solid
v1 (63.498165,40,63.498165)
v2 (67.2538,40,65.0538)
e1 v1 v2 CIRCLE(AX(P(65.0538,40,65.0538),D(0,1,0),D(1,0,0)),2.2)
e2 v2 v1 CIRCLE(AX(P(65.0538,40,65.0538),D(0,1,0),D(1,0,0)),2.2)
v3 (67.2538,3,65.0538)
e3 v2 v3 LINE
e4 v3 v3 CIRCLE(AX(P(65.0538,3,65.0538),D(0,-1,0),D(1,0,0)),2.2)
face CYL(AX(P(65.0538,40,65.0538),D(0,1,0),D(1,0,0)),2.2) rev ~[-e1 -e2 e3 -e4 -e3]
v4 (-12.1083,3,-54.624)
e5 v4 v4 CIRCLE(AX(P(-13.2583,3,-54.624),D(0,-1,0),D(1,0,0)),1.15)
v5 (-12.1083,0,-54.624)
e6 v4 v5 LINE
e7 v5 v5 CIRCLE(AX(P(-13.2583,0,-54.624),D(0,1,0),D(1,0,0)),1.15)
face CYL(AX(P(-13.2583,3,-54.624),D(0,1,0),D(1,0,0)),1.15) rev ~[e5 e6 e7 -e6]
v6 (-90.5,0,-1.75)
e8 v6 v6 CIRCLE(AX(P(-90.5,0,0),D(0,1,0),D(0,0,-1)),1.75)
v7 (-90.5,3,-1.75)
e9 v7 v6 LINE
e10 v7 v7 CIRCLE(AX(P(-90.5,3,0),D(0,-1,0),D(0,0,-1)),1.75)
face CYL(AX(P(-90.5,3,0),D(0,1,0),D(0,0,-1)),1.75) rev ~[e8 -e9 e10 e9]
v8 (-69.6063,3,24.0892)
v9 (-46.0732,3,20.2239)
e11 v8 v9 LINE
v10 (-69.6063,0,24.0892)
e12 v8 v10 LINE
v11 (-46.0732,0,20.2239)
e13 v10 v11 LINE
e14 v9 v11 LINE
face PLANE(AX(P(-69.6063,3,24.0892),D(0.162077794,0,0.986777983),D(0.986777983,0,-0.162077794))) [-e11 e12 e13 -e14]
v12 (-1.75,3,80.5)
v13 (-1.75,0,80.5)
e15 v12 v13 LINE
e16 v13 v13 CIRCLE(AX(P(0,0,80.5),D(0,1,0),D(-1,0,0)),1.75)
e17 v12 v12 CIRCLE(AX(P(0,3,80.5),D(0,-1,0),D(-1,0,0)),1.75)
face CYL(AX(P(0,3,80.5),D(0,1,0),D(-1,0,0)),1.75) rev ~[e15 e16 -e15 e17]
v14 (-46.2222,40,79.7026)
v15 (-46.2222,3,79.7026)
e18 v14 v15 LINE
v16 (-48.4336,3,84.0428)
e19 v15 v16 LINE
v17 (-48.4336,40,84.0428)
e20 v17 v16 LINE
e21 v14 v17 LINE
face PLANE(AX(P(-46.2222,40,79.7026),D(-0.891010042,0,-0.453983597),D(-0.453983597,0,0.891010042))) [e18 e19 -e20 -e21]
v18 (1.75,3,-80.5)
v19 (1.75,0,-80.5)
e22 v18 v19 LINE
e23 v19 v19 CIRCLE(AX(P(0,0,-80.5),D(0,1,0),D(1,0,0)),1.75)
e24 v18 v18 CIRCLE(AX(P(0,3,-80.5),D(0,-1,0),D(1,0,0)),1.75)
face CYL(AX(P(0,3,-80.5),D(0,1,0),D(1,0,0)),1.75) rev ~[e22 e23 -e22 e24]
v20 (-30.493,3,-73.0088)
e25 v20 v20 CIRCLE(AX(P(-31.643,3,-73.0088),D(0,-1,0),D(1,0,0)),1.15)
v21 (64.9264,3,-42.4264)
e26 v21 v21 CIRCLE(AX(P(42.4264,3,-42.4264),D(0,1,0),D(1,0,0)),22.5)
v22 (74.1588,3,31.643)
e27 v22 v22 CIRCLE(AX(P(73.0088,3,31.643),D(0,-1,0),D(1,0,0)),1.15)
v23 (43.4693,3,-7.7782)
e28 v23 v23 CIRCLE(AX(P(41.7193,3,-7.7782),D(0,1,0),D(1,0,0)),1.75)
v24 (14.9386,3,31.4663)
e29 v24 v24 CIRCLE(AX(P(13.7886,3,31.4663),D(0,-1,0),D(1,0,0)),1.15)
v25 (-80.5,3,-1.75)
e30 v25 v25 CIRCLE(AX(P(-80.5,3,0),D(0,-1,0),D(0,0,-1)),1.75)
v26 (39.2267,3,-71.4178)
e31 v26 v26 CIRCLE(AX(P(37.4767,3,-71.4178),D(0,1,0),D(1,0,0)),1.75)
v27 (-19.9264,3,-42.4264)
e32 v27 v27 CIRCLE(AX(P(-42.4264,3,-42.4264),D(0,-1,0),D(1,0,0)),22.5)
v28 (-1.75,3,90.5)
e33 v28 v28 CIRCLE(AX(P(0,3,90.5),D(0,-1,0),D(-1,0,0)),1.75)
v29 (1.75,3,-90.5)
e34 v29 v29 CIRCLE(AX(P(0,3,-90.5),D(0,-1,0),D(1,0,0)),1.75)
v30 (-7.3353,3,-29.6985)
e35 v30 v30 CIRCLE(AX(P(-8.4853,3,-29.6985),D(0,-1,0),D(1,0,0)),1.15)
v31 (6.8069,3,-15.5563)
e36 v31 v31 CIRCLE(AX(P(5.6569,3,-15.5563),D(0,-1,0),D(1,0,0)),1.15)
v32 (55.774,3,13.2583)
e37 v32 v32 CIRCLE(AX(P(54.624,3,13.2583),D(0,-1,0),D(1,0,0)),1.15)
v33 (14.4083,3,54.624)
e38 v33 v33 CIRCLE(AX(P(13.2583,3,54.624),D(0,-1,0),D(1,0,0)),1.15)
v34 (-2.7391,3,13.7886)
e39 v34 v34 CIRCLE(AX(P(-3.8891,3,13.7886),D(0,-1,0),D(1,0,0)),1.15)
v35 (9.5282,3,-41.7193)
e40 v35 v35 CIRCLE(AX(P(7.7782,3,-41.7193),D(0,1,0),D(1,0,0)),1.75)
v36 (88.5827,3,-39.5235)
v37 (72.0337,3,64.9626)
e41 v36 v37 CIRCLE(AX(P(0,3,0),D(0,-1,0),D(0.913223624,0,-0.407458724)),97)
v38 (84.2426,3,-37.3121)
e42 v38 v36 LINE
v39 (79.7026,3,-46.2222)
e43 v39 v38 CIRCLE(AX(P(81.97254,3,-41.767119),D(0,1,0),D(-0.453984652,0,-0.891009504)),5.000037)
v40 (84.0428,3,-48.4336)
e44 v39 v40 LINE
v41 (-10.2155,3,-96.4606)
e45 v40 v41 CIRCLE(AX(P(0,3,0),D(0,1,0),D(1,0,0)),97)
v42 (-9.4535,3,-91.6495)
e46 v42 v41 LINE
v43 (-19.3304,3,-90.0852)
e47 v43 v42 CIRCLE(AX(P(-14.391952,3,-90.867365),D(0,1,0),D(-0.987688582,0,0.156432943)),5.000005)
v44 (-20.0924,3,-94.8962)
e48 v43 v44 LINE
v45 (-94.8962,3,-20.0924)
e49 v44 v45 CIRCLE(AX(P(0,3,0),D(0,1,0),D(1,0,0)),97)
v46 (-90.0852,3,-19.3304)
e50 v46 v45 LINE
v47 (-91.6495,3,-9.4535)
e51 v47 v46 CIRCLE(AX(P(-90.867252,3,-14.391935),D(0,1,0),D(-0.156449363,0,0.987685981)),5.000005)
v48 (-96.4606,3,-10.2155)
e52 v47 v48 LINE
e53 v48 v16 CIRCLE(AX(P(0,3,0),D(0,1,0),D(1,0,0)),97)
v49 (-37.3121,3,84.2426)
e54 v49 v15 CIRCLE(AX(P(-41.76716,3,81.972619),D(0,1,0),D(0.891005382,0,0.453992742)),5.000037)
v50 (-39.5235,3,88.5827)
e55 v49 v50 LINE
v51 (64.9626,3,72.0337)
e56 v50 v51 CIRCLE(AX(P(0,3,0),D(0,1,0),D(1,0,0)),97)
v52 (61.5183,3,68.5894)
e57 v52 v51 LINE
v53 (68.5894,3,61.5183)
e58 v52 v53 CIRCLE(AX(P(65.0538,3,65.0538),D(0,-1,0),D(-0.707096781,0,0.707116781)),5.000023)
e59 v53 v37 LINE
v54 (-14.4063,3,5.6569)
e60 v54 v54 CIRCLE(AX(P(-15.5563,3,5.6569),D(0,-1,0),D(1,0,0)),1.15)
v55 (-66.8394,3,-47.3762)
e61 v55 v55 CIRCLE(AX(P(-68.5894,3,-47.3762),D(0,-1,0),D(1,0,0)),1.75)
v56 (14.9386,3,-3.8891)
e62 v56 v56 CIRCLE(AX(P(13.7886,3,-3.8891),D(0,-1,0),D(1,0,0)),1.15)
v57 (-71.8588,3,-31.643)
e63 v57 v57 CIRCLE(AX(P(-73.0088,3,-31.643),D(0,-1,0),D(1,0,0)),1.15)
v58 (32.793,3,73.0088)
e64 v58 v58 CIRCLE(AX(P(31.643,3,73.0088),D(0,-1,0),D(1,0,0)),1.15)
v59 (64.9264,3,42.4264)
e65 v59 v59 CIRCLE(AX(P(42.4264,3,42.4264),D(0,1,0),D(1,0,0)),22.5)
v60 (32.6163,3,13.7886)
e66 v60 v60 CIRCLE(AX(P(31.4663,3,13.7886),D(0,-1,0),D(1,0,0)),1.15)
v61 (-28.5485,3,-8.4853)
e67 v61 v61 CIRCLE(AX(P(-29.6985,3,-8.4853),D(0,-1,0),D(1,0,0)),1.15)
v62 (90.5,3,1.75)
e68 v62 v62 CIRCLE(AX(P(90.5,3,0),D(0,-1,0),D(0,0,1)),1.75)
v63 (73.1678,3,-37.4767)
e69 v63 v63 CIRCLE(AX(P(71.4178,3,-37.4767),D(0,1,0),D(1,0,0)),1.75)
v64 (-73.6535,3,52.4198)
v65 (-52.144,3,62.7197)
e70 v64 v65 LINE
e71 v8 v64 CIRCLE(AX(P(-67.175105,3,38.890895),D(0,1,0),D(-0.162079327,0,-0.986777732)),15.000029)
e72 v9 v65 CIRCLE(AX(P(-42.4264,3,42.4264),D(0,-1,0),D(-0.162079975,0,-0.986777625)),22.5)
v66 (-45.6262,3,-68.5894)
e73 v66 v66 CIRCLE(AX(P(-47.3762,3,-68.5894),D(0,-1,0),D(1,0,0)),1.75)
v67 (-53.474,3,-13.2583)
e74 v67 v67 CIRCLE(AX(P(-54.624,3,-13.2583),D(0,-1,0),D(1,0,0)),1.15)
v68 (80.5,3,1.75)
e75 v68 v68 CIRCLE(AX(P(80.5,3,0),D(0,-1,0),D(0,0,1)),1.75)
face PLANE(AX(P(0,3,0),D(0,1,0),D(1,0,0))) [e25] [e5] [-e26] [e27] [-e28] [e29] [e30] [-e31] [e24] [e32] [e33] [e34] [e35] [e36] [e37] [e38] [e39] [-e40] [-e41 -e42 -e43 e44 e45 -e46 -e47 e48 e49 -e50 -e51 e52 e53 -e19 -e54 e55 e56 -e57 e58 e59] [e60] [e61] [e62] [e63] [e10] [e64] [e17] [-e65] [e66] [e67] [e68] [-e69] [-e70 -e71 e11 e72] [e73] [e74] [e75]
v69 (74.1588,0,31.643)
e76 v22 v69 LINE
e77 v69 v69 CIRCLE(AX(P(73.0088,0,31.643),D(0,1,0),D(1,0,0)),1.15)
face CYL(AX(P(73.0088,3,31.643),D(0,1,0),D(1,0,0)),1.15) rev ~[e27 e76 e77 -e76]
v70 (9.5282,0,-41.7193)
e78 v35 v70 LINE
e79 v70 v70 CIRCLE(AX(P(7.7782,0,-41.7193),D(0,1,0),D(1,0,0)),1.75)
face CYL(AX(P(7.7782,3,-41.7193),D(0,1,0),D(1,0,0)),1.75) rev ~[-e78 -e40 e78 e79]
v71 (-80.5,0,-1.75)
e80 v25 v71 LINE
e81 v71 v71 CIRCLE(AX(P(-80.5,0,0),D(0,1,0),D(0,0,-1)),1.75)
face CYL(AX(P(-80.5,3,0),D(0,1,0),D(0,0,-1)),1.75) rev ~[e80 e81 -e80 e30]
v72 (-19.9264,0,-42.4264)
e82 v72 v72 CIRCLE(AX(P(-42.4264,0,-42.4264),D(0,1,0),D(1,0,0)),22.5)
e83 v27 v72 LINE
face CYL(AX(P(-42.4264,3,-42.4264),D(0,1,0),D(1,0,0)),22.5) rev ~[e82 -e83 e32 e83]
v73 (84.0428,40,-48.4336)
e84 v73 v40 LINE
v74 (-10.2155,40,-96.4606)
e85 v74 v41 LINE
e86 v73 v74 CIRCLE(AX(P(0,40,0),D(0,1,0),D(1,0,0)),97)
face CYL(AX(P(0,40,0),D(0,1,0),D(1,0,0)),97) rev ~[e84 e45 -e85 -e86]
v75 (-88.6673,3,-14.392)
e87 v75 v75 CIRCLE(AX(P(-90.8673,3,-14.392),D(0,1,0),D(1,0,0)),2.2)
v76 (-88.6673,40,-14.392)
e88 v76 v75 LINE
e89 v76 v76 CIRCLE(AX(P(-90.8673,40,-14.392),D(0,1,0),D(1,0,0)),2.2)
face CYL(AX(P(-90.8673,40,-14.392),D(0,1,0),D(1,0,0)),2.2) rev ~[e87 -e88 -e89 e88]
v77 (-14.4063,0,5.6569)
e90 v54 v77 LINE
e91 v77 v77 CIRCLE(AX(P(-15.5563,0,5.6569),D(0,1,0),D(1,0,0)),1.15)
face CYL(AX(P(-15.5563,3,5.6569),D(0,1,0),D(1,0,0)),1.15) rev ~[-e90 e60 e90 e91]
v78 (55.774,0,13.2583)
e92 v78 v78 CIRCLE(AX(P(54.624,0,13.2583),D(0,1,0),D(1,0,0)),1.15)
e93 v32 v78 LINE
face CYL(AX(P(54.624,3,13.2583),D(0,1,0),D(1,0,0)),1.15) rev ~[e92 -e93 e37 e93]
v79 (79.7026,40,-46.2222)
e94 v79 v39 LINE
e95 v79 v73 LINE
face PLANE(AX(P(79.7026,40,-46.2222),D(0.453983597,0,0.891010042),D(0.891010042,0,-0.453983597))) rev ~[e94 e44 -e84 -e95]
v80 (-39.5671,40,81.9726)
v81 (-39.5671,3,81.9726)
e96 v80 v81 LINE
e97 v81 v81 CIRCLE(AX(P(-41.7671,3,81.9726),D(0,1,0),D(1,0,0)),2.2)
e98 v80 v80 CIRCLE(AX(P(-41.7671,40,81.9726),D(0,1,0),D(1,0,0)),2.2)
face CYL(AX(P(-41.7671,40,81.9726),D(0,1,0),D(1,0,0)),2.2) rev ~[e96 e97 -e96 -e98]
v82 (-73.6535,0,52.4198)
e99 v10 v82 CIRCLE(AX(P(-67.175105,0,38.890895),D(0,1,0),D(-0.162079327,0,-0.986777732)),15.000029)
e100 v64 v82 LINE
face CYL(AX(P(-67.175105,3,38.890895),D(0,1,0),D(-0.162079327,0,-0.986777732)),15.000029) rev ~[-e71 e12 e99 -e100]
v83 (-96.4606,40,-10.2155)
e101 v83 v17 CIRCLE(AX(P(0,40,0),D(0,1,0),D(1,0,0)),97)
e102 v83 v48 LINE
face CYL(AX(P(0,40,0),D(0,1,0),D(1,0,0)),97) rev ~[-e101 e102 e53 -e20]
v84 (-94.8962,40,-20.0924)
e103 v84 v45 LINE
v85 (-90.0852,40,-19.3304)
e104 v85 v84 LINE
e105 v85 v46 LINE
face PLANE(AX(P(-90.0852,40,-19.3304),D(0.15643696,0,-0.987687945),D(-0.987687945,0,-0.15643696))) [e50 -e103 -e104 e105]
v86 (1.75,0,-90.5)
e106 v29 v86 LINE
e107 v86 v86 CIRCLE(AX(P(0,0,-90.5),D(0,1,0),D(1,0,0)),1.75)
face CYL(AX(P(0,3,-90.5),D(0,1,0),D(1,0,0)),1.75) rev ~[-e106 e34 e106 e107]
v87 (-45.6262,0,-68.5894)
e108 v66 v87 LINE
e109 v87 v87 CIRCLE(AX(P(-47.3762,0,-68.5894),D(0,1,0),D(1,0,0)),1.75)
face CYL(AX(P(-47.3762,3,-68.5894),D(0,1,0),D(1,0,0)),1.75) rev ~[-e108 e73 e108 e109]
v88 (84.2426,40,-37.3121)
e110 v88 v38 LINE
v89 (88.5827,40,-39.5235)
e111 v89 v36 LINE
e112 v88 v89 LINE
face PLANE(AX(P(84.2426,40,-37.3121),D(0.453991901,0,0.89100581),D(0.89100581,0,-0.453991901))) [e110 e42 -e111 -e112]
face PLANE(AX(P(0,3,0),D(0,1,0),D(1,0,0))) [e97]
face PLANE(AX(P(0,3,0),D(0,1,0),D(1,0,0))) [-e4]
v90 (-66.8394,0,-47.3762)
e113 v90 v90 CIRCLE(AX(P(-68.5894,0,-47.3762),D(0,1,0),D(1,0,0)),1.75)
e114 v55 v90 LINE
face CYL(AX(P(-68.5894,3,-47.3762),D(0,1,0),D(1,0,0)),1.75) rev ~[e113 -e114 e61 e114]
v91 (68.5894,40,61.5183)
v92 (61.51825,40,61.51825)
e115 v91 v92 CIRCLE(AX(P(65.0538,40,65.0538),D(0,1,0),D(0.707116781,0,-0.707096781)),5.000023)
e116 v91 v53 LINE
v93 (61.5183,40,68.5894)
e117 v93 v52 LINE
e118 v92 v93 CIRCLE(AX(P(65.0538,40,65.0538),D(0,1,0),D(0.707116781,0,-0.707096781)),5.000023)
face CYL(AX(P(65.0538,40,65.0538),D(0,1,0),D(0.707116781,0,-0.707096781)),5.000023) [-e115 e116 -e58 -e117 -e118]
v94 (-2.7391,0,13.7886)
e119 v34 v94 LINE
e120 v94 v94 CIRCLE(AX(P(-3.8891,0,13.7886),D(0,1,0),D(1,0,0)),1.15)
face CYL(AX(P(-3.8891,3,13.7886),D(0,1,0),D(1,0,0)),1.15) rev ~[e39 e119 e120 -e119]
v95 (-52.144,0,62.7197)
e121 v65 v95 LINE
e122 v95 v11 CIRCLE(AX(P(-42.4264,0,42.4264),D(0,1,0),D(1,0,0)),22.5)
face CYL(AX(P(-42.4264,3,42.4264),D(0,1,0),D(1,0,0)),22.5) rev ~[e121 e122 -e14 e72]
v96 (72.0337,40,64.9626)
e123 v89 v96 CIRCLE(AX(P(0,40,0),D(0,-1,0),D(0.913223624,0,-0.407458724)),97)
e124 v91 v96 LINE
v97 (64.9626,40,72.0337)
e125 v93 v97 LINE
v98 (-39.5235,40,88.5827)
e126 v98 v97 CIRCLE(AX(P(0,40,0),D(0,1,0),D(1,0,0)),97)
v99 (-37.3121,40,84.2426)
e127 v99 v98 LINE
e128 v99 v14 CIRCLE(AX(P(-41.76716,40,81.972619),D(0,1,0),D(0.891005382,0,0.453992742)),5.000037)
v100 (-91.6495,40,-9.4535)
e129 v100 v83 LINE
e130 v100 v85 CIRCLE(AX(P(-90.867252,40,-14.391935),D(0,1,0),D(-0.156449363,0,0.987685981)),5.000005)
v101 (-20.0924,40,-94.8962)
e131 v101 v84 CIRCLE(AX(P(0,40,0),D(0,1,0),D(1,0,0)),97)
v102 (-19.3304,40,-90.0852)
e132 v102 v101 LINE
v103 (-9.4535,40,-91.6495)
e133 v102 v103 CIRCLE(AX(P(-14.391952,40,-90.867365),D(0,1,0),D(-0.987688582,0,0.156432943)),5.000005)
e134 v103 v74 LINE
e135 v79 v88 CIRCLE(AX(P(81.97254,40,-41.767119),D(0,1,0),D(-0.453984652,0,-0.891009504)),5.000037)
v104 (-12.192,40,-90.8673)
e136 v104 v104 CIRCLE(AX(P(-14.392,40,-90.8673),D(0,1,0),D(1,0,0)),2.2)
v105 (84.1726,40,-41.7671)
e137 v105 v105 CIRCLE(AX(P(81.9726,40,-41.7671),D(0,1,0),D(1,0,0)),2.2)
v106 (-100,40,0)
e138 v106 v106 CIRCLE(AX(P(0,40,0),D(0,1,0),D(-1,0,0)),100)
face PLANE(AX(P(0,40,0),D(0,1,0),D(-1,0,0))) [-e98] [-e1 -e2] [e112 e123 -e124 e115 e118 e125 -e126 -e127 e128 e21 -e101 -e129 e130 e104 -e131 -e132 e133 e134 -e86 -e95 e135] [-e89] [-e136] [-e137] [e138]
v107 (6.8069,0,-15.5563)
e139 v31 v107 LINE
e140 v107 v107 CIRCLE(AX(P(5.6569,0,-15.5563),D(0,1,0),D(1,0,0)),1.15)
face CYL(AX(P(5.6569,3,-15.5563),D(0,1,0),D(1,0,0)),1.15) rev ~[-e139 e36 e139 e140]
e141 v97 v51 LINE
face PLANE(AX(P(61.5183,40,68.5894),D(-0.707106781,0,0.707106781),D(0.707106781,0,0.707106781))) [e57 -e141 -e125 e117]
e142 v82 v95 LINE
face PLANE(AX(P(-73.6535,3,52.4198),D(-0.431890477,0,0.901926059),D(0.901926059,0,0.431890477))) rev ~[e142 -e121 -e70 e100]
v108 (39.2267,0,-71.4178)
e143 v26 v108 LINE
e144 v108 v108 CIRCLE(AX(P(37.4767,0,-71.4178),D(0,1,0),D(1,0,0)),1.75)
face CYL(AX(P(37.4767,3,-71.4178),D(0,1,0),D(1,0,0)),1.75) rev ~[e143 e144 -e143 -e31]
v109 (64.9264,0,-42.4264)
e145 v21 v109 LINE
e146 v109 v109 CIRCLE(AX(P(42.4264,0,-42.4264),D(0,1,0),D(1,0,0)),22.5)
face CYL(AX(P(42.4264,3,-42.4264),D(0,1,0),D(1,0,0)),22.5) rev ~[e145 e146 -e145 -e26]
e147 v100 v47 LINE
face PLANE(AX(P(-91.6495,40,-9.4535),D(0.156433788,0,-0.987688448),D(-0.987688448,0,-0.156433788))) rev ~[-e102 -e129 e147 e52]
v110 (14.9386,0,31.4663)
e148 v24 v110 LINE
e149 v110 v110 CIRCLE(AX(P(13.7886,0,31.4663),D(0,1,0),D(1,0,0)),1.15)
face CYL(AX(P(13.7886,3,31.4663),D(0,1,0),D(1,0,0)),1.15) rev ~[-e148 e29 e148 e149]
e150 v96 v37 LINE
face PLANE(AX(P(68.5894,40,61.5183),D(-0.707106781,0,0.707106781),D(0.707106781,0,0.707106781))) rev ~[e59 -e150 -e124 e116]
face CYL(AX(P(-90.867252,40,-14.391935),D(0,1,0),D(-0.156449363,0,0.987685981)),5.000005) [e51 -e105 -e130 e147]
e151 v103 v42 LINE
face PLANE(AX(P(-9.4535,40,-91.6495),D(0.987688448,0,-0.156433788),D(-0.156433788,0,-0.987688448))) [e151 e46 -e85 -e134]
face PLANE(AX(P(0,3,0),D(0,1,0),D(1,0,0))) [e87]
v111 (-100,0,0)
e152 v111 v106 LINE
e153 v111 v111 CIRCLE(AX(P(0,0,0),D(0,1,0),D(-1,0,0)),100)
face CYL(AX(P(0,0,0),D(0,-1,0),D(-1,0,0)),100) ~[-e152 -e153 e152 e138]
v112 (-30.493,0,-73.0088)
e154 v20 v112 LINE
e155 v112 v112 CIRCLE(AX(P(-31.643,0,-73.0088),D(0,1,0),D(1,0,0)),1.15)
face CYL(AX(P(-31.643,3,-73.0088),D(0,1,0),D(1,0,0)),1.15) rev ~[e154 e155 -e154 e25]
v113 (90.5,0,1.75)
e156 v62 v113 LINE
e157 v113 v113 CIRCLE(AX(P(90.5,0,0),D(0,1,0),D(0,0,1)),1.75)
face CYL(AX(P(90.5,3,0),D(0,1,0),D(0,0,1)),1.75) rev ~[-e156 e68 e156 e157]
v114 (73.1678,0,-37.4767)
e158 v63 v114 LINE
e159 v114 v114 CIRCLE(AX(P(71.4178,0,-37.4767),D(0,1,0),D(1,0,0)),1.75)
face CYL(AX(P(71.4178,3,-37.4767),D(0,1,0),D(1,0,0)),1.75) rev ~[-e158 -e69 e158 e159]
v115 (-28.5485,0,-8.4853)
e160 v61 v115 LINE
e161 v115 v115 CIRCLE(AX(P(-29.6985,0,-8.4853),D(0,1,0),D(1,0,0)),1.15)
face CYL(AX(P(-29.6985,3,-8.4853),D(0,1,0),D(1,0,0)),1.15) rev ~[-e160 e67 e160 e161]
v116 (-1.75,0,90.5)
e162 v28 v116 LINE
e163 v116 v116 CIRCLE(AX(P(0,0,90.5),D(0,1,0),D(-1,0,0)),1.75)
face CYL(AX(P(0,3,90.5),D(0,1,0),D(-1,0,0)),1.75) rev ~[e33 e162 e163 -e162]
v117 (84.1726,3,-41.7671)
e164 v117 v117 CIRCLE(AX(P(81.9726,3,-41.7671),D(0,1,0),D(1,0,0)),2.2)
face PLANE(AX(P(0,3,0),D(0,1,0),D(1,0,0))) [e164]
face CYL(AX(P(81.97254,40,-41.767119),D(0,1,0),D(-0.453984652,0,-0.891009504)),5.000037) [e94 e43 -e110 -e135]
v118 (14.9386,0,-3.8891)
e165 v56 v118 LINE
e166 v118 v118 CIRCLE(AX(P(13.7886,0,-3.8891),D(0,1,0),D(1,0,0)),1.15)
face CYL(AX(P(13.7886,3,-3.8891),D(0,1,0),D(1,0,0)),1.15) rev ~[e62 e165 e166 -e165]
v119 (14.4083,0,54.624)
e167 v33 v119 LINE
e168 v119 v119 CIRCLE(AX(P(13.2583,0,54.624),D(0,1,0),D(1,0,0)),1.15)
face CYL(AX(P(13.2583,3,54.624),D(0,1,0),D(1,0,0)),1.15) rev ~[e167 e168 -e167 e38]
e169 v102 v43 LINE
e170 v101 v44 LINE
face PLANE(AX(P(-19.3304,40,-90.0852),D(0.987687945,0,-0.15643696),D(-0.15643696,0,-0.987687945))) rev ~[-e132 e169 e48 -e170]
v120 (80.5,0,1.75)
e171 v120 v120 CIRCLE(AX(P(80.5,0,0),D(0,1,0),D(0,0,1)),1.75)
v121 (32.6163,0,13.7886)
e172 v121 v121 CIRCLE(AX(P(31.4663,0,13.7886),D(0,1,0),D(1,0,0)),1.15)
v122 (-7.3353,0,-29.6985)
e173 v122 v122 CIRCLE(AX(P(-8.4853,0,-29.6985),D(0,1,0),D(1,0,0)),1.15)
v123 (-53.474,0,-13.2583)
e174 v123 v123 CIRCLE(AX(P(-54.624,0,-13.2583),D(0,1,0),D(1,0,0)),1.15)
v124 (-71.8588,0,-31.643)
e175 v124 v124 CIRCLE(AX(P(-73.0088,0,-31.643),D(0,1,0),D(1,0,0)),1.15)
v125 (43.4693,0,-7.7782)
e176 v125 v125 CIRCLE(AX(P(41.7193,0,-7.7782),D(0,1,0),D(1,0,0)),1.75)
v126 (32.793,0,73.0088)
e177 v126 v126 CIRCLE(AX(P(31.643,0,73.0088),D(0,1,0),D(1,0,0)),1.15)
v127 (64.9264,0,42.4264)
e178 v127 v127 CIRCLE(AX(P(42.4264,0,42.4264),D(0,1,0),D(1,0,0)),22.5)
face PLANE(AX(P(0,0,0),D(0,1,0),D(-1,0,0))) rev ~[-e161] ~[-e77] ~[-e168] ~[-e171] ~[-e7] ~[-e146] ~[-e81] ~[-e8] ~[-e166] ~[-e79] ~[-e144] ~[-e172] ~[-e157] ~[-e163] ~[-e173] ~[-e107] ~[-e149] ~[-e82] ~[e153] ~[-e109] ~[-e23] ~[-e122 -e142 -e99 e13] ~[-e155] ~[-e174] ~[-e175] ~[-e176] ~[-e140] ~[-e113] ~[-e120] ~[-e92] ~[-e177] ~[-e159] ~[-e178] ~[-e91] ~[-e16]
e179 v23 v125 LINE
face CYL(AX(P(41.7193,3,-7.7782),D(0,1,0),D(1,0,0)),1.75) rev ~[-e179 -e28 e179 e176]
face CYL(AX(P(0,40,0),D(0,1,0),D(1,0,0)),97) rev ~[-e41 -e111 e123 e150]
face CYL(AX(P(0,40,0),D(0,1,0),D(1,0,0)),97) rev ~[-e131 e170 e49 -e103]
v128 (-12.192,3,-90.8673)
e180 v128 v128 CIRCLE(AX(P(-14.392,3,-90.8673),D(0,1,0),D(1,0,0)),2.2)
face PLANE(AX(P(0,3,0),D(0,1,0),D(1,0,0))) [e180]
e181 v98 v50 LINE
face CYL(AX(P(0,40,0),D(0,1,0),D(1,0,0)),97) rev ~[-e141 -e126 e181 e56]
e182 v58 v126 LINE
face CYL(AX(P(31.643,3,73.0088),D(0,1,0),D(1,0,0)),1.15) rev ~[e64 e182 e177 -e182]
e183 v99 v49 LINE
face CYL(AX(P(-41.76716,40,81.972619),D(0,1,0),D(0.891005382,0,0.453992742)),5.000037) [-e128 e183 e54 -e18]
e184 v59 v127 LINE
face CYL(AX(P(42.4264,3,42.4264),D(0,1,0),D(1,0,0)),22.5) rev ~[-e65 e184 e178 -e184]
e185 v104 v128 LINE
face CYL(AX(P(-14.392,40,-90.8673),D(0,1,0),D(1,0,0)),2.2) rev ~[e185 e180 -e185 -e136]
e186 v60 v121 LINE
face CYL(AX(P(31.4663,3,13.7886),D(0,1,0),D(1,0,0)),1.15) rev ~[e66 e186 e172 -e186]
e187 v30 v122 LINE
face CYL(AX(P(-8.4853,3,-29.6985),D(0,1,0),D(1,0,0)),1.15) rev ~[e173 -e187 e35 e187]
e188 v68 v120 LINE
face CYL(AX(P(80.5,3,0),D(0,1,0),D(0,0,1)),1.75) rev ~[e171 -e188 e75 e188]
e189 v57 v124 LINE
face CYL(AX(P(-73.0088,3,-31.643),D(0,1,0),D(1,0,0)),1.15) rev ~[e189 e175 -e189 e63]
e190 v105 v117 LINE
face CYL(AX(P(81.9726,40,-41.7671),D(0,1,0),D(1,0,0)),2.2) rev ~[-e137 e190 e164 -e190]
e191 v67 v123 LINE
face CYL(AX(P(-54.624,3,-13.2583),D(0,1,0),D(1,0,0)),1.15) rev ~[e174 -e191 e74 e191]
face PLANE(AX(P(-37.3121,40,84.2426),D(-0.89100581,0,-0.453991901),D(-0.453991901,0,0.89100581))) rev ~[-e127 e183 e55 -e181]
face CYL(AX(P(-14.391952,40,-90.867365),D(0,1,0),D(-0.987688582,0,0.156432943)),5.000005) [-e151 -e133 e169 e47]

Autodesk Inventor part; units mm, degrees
ref_plane "YZ Plane" through (0, 0, 0) normal (1, 0, 0) x (0, 1, 0)
ref_plane "XZ Plane" through (0, 0, 0) normal (0, 1, 0) x (-1, 0, 0)
ref_plane "XY Plane" through (0, 0, 0) normal (0, 0, 1) x (1, 0, 0)
sketch "Sketch1" plane through (0, 0, 0) normal (0, 1, 0) x (-1, 0, 0)
  circle A0 centre (0, 0) radius 100
  dimension "d0" = 200
extrude "Extrusion1" add sketch "Sketch1" along normal blind 40
sketch "Sketch3" plane through (0, 40, 0) normal (0, 1, 0) x (1, 0, 0)
  circle A0 centre (0, 0) radius 97
  circle A1 centre (0, 0) radius 100 projected
  dimension "d14" = 3
extrude "Extrusion3" cut sketch "Sketch3" against normal blind 37 contours A0
sketch "Sketch6" plane through (0, 40, 0) normal (0, 1, 0) x (1, 0, 0)
  circle A0 centre (65.0538, -65.0538) radius 2.2
  line L0 (0, 0) -> (65.0538, -65.0538)
  line L1 (0, 0) -> (0, 29.3697)
  arc A1 (68.5894, -61.5183) -> (61.5183, -68.5894) centre (65.0538, -65.0538) ccw
  line L2 (61.5183, -68.5894) -> (64.9626, -72.0337)
  line L3 (68.5894, -61.5183) -> (72.0337, -64.9626)
  arc A2 (79.7026, 46.2222) -> (84.2426, 37.3121) centre (81.9726, 41.7671) ccw
  circle A3 centre (81.9726, 41.7671) radius 2.2
  line L4 (84.2426, 37.3121) -> (88.5827, 39.5235)
  line L5 (79.7026, 46.2222) -> (84.0428, 48.4336)
  arc A4 (-19.3304, 90.0852) -> (-9.4535, 91.6495) centre (-14.392, 90.8673) ccw
  circle A5 centre (-14.392, 90.8673) radius 2.2
  line L6 (-9.4535, 91.6495) -> (-10.2155, 96.4606)
  line L7 (-19.3304, 90.0852) -> (-20.0924, 94.8962)
  arc A6 (-91.6495, 9.4535) -> (-90.0852, 19.3304) centre (-90.8673, 14.392) ccw
  circle A7 centre (-90.8673, 14.392) radius 2.2
  line L8 (-90.0852, 19.3304) -> (-94.8962, 20.0924)
  line L9 (-91.6495, 9.4535) -> (-96.4606, 10.2155)
  arc A8 (-37.3121, -84.2426) -> (-46.2222, -79.7026) centre (-41.7671, -81.9726) ccw
  circle A9 centre (-41.7671, -81.9726) radius 2.2
  line L10 (-46.2222, -79.7026) -> (-48.4336, -84.0428)
  line L11 (-37.3121, -84.2426) -> (-39.5235, -88.5827)
  circle A10 centre (0, 0) radius 97 projected
  dimension "d106" = 4.4
  dimension "d109" = 92
  dimension "d111" = 135
  dimension "d112" = 10
  dimension "d115" = 360
extrude "Extrusion6" add sketch "Sketch6" against normal up to surface (37 mm away) contours A1 L3 A10 L2 | A10 L10 A8 L11 | L4 A2 L5 A10 | A10 L8 A6 L9 | L6 A4 L7 A10
sketch "Sketch9" plane through (0, 3, 0) normal (0, 1, 0) x (1, 0, 0)
  circle A0 centre (37.4767, 71.4178) radius 1.75
  circle A1 centre (7.7782, 41.7193) radius 1.75
  circle A2 centre (71.4178, 37.4767) radius 1.75
  circle A3 centre (41.7193, 7.7782) radius 1.75
  line L0 (0, 0) -> (0, 0)
  line L1 (0, 0) -> (-23.1827, 0)
  line L2 (0, 0) -> (0, 0)
  dimension "d115" = 360
  dimension "d77" = 42
  dimension "d78" = 48
  dimension "d79" = 42
  dimension "d80" = 48
  dimension "d81" = 135
  dimension "d82" = 24
  dimension "d83" = 24
  dimension "d84" = 24
  dimension "d85" = 3.5
  dimension "d86" = 3.5
  dimension "d87" = 3.5
  dimension "d88" = 3.5
  dimension "d89" = 35
extrude "Extrusion9" cut sketch "Sketch9" against normal blind 4
sketch "Sketch18" plane through (0, 3, 0) normal (0, 1, 0) x (1, 0, 0)
  line L0 (54.624, -13.2583) -> (13.2583, -54.624)
  line L1 (13.2583, -54.624) -> (31.643, -73.0088)
  line L2 (31.643, -73.0088) -> (73.0088, -31.643)
  line L3 (73.0088, -31.643) -> (54.624, -13.2583)
  line L4 (0, 0) -> (3.812, 0)
  line L5 (0, 0) -> (33.9411, -33.9411)
  circle A0 centre (54.624, -13.2583) radius 1.15
  circle A1 centre (73.0088, -31.643) radius 1.15
  circle A2 centre (13.2583, -54.624) radius 1.15
  circle A3 centre (31.643, -73.0088) radius 1.15
  line L6 (3.5355, -49.4975) -> (36.7696, -82.7315)
  line L7 (36.7696, -82.7315) -> (82.7315, -36.7696)
  line L8 (82.7315, -36.7696) -> (49.4975, -3.5355)
  line L9 (49.4975, -3.5355) -> (3.5355, -49.4975)
  dimension "d193" = 45
  dimension "d194" = 2.3
  dimension "d195" = 2.3
  dimension "d196" = 2.3
  dimension "d197" = 2.3
  dimension "d198" = 48
  dimension "d199" = 26
  dimension "d200" = 58.5
  dimension "d201" = 47
  dimension "d202" = 10.5
  dimension "d203" = 65
  dimension "d204" = 32.5
extrude "Extrusion11" cut sketch "Sketch18" against normal blind 10 contours L3 A0 L0 | L0 A0 L3 | A1 L2 L3 | L3 L2 A1 | A2 L1 L0 | L0 L1 A2 | A3 L1 L2 | L2 L1 A3
sketch "Sketch12" plane through (0, 3, 0) normal (0, 1, 0) x (1, 0, 0)
  circle A0 centre (-73.0088, 31.643) radius 1.15
  circle A1 centre (-54.624, 13.2583) radius 1.15
  circle A2 centre (-31.643, 73.0088) radius 1.15
  circle A3 centre (-13.2583, 54.624) radius 1.15
  line L0 (-54.624, 13.2583) -> (-73.0088, 31.643)
  line L1 (-73.0088, 31.643) -> (-31.643, 73.0088)
  line L2 (-31.643, 73.0088) -> (-13.2583, 54.624)
  line L3 (-13.2583, 54.624) -> (-54.624, 13.2583)
  line L4 (0, 0) -> (-33.9411, 33.9411)
  line L5 (0, 0) -> (28.9474, 0)
  line L6 (-3.5355, 49.4975) -> (-49.4975, 3.5355)
  line L7 (-49.4975, 3.5355) -> (-82.7315, 36.7696)
  line L8 (-82.7315, 36.7696) -> (-36.7696, 82.7315)
  line L9 (-36.7696, 82.7315) -> (-3.5355, 49.4975)
  dimension "d132" = 135
  dimension "d133" = 58.5
  dimension "d134" = 26
  dimension "d135" = 48
  dimension "d138" = 2.3
  dimension "d139" = 2.3
  dimension "d140" = 2.3
  dimension "d141" = 2.3
  dimension "d219" = 47
  dimension "d220" = 65
  dimension "d221" = 32.5
  dimension "d222" = 10.5
extrude "Extrusion12" cut sketch "Sketch12" against normal blind 10 contours A0 L0 L1 | L1 L0 A0 | L1 L2 A2 | A2 L2 L1 | L0 L3 A1 | A1 L3 L0 | L2 L3 A3 | A3 L3 L2
sketch "Sketch13" plane through (0, 3, 0) normal (0, 1, 0) x (1, 0, 0)
  circle A0 centre (-3.8891, -13.7886) radius 1.15
  circle A1 centre (13.7886, 3.8891) radius 1.15
  circle A2 centre (13.7886, -31.4663) radius 1.15
  circle A3 centre (31.4663, -13.7886) radius 1.15
  line L0 (13.7886, 3.8891) -> (31.4663, -13.7886)
  line L1 (13.7886, 3.8891) -> (-3.8891, -13.7886)
  line L2 (-3.8891, -13.7886) -> (13.7886, -31.4663)
  line L3 (13.7886, -31.4663) -> (31.4663, -13.7886)
  line L4 (0, 0) -> (4.9497, -4.9497)
  line L5 (0, 0) -> (0, 15.8788)
  circle A4 centre (-54.624, 13.2583) radius 1.15 projected
  circle A5 centre (-13.2583, 54.624) radius 1.15 projected
  line L6 (-54.624, 13.2583) -> (-13.2583, 54.624)
  dimension "d142" = 25
  dimension "d143" = 25
  dimension "d146" = 7
  dimension "d147" = 2.3
  dimension "d148" = 2.3
  dimension "d149" = 2.3
  dimension "d150" = 2.3
  dimension "d218" = 225
extrude "Extrusion13" cut sketch "Sketch13" against normal blind 10 contours A0 L2 L1 | L1 L2 A0 | L2 L3 A2 | A2 L3 L2 | L1 L0 A1 | A1 L0 L1 | L3 L0 A3 | A3 L0 L3
sketch "Sketch14" plane through (0, 3, 0) normal (0, 1, 0) x (1, 0, 0)
  circle A0 centre (-15.5563, -5.6569) radius 1.15
  circle A1 centre (-29.6985, 8.4853) radius 1.15
  circle A2 centre (5.6569, 15.5563) radius 1.15
  circle A3 centre (-8.4853, 29.6985) radius 1.15
  line L0 (-15.5563, -5.6569) -> (-29.6985, 8.4853)
  line L1 (-29.6985, 8.4853) -> (-8.4853, 29.6985)
  line L2 (-8.4853, 29.6985) -> (5.6569, 15.5563)
  line L3 (5.6569, 15.5563) -> (-15.5563, -5.6569)
  line L4 (0, 0) -> (-4.9497, 4.9497)
  line L5 (0, 0) -> (0, -29.7701)
  circle A4 centre (13.2583, -54.624) radius 1.15 projected
  circle A5 centre (54.624, -13.2583) radius 1.15 projected
  line L6 (13.2583, -54.624) -> (54.624, -13.2583)
  dimension "d153" = 20
  dimension "d154" = 30
  dimension "d155" = 2.3
  dimension "d156" = 2.3
  dimension "d157" = 2.3
  dimension "d158" = 2.3
  dimension "d160" = 7
  dimension "d217" = 225
extrude "Extrusion14" cut sketch "Sketch14" against normal blind 10 contours A0 L0 L3 | L3 L0 A0 | L0 L1 A1 | A1 L1 L0 | L3 L2 A2 | A2 L2 L3 | L1 L2 A3 | A3 L2 L1
sketch "Sketch16" plane through (0, 3, 0) normal (0, 1, 0) x (1, 0, 0)
  circle A0 centre (0, 80.5) radius 1.75
  circle A1 centre (0, 90.5) radius 1.75
  circle A2 centre (0, 0) radius 100 projected
  line L0 (0, 100) -> (0, 80.5)
  dimension "d179" = 3.5
  dimension "d180" = 19.5
  dimension "d181" = 9.5
  dimension "d182" = 3.5
extrude "Extrusion16" cut sketch "Sketch16" against normal blind 10 contours A0 | A1 L0 | L0 A1
pattern_circular "Circular Pattern4" count 4 over 360 about axis through (0, -10, 0) along (0, 1, 0) of "Extrusion16"
sketch "Sketch17" plane through (0, 3, 0) normal (0, 1, 0) x (1, 0, 0)
  line L0 (0, 0) -> (-53.033, -53.033)
  line L1 (-53.033, -53.033) -> (-67.1751, -38.8909)
  line L2 (0, 0) -> (-22.9121, 0)
  line L3 (0, 0) -> (-42.4264, 42.4264)
  circle A0 centre (-42.4264, 42.4264) radius 22.5
  circle A1 centre (-42.4264, -42.4264) radius 22.5
  circle A2 centre (42.4264, -42.4264) radius 22.5
  circle A3 centre (42.4264, 42.4264) radius 22.5
  line L4 (-69.6063, -24.0892) -> (-46.0732, -20.2239)
  line L5 (-73.6535, -52.4198) -> (-52.144, -62.7197)
  arc A4 (-69.6063, -24.0892) -> (-73.6535, -52.4198) centre (-67.1751, -38.8909) ccw
  point P0 (-64.8915, -41.1745)
  point P1 (-26.5165, -26.5165)
  dimension "d188" = 45
  dimension "d189" = 75
  dimension "d190" = 20
  dimension "d207" = 60
  dimension "d208" = 45
  dimension "d209" = 45
  dimension "d212" = 360
  dimension "d216" = 15
extrude "Extrusion18" cut sketch "Sketch17" against normal blind 10
sketch "Sketch20" plane through (0, 3, 0) normal (0, 1, 0) x (1, 0, 0)
  line L0 (0, 0) -> (-22.6274, 22.6274)
  line L1 (-22.6274, 22.6274) -> (-29.7758, 15.479)
  line L2 (-22.6274, 22.6274) -> (-15.6337, 29.6211)
  line L3 (0, 0) -> (9.6667, 0)
  circle A0 centre (-29.7758, 15.479) radius 1.75
  circle A1 centre (-15.6337, 29.6211) radius 1.75
  circle A2 centre (-68.5894, 47.3762) radius 1.75
  circle A3 centre (-47.3762, 68.5894) radius 1.75
  line L4 (-68.5894, 47.3762) -> (-47.3762, 68.5894)
  line L5 (-57.9828, 57.9828) -> (-22.6274, 22.6274)
  dimension "d223" = 135
  dimension "d224" = 3.5
  dimension "d225" = 3.5
  dimension "d226" = 20
  dimension "d227" = 32
  dimension "d228" = 30
  dimension "d229" = 3.5
  dimension "d230" = 3.5
  dimension "d231" = 50
extrude "Extrusion19" cut sketch "Sketch20" against normal blind 10 contours A2 | A3
properties part number "RL_spider_center_mid_v3"
